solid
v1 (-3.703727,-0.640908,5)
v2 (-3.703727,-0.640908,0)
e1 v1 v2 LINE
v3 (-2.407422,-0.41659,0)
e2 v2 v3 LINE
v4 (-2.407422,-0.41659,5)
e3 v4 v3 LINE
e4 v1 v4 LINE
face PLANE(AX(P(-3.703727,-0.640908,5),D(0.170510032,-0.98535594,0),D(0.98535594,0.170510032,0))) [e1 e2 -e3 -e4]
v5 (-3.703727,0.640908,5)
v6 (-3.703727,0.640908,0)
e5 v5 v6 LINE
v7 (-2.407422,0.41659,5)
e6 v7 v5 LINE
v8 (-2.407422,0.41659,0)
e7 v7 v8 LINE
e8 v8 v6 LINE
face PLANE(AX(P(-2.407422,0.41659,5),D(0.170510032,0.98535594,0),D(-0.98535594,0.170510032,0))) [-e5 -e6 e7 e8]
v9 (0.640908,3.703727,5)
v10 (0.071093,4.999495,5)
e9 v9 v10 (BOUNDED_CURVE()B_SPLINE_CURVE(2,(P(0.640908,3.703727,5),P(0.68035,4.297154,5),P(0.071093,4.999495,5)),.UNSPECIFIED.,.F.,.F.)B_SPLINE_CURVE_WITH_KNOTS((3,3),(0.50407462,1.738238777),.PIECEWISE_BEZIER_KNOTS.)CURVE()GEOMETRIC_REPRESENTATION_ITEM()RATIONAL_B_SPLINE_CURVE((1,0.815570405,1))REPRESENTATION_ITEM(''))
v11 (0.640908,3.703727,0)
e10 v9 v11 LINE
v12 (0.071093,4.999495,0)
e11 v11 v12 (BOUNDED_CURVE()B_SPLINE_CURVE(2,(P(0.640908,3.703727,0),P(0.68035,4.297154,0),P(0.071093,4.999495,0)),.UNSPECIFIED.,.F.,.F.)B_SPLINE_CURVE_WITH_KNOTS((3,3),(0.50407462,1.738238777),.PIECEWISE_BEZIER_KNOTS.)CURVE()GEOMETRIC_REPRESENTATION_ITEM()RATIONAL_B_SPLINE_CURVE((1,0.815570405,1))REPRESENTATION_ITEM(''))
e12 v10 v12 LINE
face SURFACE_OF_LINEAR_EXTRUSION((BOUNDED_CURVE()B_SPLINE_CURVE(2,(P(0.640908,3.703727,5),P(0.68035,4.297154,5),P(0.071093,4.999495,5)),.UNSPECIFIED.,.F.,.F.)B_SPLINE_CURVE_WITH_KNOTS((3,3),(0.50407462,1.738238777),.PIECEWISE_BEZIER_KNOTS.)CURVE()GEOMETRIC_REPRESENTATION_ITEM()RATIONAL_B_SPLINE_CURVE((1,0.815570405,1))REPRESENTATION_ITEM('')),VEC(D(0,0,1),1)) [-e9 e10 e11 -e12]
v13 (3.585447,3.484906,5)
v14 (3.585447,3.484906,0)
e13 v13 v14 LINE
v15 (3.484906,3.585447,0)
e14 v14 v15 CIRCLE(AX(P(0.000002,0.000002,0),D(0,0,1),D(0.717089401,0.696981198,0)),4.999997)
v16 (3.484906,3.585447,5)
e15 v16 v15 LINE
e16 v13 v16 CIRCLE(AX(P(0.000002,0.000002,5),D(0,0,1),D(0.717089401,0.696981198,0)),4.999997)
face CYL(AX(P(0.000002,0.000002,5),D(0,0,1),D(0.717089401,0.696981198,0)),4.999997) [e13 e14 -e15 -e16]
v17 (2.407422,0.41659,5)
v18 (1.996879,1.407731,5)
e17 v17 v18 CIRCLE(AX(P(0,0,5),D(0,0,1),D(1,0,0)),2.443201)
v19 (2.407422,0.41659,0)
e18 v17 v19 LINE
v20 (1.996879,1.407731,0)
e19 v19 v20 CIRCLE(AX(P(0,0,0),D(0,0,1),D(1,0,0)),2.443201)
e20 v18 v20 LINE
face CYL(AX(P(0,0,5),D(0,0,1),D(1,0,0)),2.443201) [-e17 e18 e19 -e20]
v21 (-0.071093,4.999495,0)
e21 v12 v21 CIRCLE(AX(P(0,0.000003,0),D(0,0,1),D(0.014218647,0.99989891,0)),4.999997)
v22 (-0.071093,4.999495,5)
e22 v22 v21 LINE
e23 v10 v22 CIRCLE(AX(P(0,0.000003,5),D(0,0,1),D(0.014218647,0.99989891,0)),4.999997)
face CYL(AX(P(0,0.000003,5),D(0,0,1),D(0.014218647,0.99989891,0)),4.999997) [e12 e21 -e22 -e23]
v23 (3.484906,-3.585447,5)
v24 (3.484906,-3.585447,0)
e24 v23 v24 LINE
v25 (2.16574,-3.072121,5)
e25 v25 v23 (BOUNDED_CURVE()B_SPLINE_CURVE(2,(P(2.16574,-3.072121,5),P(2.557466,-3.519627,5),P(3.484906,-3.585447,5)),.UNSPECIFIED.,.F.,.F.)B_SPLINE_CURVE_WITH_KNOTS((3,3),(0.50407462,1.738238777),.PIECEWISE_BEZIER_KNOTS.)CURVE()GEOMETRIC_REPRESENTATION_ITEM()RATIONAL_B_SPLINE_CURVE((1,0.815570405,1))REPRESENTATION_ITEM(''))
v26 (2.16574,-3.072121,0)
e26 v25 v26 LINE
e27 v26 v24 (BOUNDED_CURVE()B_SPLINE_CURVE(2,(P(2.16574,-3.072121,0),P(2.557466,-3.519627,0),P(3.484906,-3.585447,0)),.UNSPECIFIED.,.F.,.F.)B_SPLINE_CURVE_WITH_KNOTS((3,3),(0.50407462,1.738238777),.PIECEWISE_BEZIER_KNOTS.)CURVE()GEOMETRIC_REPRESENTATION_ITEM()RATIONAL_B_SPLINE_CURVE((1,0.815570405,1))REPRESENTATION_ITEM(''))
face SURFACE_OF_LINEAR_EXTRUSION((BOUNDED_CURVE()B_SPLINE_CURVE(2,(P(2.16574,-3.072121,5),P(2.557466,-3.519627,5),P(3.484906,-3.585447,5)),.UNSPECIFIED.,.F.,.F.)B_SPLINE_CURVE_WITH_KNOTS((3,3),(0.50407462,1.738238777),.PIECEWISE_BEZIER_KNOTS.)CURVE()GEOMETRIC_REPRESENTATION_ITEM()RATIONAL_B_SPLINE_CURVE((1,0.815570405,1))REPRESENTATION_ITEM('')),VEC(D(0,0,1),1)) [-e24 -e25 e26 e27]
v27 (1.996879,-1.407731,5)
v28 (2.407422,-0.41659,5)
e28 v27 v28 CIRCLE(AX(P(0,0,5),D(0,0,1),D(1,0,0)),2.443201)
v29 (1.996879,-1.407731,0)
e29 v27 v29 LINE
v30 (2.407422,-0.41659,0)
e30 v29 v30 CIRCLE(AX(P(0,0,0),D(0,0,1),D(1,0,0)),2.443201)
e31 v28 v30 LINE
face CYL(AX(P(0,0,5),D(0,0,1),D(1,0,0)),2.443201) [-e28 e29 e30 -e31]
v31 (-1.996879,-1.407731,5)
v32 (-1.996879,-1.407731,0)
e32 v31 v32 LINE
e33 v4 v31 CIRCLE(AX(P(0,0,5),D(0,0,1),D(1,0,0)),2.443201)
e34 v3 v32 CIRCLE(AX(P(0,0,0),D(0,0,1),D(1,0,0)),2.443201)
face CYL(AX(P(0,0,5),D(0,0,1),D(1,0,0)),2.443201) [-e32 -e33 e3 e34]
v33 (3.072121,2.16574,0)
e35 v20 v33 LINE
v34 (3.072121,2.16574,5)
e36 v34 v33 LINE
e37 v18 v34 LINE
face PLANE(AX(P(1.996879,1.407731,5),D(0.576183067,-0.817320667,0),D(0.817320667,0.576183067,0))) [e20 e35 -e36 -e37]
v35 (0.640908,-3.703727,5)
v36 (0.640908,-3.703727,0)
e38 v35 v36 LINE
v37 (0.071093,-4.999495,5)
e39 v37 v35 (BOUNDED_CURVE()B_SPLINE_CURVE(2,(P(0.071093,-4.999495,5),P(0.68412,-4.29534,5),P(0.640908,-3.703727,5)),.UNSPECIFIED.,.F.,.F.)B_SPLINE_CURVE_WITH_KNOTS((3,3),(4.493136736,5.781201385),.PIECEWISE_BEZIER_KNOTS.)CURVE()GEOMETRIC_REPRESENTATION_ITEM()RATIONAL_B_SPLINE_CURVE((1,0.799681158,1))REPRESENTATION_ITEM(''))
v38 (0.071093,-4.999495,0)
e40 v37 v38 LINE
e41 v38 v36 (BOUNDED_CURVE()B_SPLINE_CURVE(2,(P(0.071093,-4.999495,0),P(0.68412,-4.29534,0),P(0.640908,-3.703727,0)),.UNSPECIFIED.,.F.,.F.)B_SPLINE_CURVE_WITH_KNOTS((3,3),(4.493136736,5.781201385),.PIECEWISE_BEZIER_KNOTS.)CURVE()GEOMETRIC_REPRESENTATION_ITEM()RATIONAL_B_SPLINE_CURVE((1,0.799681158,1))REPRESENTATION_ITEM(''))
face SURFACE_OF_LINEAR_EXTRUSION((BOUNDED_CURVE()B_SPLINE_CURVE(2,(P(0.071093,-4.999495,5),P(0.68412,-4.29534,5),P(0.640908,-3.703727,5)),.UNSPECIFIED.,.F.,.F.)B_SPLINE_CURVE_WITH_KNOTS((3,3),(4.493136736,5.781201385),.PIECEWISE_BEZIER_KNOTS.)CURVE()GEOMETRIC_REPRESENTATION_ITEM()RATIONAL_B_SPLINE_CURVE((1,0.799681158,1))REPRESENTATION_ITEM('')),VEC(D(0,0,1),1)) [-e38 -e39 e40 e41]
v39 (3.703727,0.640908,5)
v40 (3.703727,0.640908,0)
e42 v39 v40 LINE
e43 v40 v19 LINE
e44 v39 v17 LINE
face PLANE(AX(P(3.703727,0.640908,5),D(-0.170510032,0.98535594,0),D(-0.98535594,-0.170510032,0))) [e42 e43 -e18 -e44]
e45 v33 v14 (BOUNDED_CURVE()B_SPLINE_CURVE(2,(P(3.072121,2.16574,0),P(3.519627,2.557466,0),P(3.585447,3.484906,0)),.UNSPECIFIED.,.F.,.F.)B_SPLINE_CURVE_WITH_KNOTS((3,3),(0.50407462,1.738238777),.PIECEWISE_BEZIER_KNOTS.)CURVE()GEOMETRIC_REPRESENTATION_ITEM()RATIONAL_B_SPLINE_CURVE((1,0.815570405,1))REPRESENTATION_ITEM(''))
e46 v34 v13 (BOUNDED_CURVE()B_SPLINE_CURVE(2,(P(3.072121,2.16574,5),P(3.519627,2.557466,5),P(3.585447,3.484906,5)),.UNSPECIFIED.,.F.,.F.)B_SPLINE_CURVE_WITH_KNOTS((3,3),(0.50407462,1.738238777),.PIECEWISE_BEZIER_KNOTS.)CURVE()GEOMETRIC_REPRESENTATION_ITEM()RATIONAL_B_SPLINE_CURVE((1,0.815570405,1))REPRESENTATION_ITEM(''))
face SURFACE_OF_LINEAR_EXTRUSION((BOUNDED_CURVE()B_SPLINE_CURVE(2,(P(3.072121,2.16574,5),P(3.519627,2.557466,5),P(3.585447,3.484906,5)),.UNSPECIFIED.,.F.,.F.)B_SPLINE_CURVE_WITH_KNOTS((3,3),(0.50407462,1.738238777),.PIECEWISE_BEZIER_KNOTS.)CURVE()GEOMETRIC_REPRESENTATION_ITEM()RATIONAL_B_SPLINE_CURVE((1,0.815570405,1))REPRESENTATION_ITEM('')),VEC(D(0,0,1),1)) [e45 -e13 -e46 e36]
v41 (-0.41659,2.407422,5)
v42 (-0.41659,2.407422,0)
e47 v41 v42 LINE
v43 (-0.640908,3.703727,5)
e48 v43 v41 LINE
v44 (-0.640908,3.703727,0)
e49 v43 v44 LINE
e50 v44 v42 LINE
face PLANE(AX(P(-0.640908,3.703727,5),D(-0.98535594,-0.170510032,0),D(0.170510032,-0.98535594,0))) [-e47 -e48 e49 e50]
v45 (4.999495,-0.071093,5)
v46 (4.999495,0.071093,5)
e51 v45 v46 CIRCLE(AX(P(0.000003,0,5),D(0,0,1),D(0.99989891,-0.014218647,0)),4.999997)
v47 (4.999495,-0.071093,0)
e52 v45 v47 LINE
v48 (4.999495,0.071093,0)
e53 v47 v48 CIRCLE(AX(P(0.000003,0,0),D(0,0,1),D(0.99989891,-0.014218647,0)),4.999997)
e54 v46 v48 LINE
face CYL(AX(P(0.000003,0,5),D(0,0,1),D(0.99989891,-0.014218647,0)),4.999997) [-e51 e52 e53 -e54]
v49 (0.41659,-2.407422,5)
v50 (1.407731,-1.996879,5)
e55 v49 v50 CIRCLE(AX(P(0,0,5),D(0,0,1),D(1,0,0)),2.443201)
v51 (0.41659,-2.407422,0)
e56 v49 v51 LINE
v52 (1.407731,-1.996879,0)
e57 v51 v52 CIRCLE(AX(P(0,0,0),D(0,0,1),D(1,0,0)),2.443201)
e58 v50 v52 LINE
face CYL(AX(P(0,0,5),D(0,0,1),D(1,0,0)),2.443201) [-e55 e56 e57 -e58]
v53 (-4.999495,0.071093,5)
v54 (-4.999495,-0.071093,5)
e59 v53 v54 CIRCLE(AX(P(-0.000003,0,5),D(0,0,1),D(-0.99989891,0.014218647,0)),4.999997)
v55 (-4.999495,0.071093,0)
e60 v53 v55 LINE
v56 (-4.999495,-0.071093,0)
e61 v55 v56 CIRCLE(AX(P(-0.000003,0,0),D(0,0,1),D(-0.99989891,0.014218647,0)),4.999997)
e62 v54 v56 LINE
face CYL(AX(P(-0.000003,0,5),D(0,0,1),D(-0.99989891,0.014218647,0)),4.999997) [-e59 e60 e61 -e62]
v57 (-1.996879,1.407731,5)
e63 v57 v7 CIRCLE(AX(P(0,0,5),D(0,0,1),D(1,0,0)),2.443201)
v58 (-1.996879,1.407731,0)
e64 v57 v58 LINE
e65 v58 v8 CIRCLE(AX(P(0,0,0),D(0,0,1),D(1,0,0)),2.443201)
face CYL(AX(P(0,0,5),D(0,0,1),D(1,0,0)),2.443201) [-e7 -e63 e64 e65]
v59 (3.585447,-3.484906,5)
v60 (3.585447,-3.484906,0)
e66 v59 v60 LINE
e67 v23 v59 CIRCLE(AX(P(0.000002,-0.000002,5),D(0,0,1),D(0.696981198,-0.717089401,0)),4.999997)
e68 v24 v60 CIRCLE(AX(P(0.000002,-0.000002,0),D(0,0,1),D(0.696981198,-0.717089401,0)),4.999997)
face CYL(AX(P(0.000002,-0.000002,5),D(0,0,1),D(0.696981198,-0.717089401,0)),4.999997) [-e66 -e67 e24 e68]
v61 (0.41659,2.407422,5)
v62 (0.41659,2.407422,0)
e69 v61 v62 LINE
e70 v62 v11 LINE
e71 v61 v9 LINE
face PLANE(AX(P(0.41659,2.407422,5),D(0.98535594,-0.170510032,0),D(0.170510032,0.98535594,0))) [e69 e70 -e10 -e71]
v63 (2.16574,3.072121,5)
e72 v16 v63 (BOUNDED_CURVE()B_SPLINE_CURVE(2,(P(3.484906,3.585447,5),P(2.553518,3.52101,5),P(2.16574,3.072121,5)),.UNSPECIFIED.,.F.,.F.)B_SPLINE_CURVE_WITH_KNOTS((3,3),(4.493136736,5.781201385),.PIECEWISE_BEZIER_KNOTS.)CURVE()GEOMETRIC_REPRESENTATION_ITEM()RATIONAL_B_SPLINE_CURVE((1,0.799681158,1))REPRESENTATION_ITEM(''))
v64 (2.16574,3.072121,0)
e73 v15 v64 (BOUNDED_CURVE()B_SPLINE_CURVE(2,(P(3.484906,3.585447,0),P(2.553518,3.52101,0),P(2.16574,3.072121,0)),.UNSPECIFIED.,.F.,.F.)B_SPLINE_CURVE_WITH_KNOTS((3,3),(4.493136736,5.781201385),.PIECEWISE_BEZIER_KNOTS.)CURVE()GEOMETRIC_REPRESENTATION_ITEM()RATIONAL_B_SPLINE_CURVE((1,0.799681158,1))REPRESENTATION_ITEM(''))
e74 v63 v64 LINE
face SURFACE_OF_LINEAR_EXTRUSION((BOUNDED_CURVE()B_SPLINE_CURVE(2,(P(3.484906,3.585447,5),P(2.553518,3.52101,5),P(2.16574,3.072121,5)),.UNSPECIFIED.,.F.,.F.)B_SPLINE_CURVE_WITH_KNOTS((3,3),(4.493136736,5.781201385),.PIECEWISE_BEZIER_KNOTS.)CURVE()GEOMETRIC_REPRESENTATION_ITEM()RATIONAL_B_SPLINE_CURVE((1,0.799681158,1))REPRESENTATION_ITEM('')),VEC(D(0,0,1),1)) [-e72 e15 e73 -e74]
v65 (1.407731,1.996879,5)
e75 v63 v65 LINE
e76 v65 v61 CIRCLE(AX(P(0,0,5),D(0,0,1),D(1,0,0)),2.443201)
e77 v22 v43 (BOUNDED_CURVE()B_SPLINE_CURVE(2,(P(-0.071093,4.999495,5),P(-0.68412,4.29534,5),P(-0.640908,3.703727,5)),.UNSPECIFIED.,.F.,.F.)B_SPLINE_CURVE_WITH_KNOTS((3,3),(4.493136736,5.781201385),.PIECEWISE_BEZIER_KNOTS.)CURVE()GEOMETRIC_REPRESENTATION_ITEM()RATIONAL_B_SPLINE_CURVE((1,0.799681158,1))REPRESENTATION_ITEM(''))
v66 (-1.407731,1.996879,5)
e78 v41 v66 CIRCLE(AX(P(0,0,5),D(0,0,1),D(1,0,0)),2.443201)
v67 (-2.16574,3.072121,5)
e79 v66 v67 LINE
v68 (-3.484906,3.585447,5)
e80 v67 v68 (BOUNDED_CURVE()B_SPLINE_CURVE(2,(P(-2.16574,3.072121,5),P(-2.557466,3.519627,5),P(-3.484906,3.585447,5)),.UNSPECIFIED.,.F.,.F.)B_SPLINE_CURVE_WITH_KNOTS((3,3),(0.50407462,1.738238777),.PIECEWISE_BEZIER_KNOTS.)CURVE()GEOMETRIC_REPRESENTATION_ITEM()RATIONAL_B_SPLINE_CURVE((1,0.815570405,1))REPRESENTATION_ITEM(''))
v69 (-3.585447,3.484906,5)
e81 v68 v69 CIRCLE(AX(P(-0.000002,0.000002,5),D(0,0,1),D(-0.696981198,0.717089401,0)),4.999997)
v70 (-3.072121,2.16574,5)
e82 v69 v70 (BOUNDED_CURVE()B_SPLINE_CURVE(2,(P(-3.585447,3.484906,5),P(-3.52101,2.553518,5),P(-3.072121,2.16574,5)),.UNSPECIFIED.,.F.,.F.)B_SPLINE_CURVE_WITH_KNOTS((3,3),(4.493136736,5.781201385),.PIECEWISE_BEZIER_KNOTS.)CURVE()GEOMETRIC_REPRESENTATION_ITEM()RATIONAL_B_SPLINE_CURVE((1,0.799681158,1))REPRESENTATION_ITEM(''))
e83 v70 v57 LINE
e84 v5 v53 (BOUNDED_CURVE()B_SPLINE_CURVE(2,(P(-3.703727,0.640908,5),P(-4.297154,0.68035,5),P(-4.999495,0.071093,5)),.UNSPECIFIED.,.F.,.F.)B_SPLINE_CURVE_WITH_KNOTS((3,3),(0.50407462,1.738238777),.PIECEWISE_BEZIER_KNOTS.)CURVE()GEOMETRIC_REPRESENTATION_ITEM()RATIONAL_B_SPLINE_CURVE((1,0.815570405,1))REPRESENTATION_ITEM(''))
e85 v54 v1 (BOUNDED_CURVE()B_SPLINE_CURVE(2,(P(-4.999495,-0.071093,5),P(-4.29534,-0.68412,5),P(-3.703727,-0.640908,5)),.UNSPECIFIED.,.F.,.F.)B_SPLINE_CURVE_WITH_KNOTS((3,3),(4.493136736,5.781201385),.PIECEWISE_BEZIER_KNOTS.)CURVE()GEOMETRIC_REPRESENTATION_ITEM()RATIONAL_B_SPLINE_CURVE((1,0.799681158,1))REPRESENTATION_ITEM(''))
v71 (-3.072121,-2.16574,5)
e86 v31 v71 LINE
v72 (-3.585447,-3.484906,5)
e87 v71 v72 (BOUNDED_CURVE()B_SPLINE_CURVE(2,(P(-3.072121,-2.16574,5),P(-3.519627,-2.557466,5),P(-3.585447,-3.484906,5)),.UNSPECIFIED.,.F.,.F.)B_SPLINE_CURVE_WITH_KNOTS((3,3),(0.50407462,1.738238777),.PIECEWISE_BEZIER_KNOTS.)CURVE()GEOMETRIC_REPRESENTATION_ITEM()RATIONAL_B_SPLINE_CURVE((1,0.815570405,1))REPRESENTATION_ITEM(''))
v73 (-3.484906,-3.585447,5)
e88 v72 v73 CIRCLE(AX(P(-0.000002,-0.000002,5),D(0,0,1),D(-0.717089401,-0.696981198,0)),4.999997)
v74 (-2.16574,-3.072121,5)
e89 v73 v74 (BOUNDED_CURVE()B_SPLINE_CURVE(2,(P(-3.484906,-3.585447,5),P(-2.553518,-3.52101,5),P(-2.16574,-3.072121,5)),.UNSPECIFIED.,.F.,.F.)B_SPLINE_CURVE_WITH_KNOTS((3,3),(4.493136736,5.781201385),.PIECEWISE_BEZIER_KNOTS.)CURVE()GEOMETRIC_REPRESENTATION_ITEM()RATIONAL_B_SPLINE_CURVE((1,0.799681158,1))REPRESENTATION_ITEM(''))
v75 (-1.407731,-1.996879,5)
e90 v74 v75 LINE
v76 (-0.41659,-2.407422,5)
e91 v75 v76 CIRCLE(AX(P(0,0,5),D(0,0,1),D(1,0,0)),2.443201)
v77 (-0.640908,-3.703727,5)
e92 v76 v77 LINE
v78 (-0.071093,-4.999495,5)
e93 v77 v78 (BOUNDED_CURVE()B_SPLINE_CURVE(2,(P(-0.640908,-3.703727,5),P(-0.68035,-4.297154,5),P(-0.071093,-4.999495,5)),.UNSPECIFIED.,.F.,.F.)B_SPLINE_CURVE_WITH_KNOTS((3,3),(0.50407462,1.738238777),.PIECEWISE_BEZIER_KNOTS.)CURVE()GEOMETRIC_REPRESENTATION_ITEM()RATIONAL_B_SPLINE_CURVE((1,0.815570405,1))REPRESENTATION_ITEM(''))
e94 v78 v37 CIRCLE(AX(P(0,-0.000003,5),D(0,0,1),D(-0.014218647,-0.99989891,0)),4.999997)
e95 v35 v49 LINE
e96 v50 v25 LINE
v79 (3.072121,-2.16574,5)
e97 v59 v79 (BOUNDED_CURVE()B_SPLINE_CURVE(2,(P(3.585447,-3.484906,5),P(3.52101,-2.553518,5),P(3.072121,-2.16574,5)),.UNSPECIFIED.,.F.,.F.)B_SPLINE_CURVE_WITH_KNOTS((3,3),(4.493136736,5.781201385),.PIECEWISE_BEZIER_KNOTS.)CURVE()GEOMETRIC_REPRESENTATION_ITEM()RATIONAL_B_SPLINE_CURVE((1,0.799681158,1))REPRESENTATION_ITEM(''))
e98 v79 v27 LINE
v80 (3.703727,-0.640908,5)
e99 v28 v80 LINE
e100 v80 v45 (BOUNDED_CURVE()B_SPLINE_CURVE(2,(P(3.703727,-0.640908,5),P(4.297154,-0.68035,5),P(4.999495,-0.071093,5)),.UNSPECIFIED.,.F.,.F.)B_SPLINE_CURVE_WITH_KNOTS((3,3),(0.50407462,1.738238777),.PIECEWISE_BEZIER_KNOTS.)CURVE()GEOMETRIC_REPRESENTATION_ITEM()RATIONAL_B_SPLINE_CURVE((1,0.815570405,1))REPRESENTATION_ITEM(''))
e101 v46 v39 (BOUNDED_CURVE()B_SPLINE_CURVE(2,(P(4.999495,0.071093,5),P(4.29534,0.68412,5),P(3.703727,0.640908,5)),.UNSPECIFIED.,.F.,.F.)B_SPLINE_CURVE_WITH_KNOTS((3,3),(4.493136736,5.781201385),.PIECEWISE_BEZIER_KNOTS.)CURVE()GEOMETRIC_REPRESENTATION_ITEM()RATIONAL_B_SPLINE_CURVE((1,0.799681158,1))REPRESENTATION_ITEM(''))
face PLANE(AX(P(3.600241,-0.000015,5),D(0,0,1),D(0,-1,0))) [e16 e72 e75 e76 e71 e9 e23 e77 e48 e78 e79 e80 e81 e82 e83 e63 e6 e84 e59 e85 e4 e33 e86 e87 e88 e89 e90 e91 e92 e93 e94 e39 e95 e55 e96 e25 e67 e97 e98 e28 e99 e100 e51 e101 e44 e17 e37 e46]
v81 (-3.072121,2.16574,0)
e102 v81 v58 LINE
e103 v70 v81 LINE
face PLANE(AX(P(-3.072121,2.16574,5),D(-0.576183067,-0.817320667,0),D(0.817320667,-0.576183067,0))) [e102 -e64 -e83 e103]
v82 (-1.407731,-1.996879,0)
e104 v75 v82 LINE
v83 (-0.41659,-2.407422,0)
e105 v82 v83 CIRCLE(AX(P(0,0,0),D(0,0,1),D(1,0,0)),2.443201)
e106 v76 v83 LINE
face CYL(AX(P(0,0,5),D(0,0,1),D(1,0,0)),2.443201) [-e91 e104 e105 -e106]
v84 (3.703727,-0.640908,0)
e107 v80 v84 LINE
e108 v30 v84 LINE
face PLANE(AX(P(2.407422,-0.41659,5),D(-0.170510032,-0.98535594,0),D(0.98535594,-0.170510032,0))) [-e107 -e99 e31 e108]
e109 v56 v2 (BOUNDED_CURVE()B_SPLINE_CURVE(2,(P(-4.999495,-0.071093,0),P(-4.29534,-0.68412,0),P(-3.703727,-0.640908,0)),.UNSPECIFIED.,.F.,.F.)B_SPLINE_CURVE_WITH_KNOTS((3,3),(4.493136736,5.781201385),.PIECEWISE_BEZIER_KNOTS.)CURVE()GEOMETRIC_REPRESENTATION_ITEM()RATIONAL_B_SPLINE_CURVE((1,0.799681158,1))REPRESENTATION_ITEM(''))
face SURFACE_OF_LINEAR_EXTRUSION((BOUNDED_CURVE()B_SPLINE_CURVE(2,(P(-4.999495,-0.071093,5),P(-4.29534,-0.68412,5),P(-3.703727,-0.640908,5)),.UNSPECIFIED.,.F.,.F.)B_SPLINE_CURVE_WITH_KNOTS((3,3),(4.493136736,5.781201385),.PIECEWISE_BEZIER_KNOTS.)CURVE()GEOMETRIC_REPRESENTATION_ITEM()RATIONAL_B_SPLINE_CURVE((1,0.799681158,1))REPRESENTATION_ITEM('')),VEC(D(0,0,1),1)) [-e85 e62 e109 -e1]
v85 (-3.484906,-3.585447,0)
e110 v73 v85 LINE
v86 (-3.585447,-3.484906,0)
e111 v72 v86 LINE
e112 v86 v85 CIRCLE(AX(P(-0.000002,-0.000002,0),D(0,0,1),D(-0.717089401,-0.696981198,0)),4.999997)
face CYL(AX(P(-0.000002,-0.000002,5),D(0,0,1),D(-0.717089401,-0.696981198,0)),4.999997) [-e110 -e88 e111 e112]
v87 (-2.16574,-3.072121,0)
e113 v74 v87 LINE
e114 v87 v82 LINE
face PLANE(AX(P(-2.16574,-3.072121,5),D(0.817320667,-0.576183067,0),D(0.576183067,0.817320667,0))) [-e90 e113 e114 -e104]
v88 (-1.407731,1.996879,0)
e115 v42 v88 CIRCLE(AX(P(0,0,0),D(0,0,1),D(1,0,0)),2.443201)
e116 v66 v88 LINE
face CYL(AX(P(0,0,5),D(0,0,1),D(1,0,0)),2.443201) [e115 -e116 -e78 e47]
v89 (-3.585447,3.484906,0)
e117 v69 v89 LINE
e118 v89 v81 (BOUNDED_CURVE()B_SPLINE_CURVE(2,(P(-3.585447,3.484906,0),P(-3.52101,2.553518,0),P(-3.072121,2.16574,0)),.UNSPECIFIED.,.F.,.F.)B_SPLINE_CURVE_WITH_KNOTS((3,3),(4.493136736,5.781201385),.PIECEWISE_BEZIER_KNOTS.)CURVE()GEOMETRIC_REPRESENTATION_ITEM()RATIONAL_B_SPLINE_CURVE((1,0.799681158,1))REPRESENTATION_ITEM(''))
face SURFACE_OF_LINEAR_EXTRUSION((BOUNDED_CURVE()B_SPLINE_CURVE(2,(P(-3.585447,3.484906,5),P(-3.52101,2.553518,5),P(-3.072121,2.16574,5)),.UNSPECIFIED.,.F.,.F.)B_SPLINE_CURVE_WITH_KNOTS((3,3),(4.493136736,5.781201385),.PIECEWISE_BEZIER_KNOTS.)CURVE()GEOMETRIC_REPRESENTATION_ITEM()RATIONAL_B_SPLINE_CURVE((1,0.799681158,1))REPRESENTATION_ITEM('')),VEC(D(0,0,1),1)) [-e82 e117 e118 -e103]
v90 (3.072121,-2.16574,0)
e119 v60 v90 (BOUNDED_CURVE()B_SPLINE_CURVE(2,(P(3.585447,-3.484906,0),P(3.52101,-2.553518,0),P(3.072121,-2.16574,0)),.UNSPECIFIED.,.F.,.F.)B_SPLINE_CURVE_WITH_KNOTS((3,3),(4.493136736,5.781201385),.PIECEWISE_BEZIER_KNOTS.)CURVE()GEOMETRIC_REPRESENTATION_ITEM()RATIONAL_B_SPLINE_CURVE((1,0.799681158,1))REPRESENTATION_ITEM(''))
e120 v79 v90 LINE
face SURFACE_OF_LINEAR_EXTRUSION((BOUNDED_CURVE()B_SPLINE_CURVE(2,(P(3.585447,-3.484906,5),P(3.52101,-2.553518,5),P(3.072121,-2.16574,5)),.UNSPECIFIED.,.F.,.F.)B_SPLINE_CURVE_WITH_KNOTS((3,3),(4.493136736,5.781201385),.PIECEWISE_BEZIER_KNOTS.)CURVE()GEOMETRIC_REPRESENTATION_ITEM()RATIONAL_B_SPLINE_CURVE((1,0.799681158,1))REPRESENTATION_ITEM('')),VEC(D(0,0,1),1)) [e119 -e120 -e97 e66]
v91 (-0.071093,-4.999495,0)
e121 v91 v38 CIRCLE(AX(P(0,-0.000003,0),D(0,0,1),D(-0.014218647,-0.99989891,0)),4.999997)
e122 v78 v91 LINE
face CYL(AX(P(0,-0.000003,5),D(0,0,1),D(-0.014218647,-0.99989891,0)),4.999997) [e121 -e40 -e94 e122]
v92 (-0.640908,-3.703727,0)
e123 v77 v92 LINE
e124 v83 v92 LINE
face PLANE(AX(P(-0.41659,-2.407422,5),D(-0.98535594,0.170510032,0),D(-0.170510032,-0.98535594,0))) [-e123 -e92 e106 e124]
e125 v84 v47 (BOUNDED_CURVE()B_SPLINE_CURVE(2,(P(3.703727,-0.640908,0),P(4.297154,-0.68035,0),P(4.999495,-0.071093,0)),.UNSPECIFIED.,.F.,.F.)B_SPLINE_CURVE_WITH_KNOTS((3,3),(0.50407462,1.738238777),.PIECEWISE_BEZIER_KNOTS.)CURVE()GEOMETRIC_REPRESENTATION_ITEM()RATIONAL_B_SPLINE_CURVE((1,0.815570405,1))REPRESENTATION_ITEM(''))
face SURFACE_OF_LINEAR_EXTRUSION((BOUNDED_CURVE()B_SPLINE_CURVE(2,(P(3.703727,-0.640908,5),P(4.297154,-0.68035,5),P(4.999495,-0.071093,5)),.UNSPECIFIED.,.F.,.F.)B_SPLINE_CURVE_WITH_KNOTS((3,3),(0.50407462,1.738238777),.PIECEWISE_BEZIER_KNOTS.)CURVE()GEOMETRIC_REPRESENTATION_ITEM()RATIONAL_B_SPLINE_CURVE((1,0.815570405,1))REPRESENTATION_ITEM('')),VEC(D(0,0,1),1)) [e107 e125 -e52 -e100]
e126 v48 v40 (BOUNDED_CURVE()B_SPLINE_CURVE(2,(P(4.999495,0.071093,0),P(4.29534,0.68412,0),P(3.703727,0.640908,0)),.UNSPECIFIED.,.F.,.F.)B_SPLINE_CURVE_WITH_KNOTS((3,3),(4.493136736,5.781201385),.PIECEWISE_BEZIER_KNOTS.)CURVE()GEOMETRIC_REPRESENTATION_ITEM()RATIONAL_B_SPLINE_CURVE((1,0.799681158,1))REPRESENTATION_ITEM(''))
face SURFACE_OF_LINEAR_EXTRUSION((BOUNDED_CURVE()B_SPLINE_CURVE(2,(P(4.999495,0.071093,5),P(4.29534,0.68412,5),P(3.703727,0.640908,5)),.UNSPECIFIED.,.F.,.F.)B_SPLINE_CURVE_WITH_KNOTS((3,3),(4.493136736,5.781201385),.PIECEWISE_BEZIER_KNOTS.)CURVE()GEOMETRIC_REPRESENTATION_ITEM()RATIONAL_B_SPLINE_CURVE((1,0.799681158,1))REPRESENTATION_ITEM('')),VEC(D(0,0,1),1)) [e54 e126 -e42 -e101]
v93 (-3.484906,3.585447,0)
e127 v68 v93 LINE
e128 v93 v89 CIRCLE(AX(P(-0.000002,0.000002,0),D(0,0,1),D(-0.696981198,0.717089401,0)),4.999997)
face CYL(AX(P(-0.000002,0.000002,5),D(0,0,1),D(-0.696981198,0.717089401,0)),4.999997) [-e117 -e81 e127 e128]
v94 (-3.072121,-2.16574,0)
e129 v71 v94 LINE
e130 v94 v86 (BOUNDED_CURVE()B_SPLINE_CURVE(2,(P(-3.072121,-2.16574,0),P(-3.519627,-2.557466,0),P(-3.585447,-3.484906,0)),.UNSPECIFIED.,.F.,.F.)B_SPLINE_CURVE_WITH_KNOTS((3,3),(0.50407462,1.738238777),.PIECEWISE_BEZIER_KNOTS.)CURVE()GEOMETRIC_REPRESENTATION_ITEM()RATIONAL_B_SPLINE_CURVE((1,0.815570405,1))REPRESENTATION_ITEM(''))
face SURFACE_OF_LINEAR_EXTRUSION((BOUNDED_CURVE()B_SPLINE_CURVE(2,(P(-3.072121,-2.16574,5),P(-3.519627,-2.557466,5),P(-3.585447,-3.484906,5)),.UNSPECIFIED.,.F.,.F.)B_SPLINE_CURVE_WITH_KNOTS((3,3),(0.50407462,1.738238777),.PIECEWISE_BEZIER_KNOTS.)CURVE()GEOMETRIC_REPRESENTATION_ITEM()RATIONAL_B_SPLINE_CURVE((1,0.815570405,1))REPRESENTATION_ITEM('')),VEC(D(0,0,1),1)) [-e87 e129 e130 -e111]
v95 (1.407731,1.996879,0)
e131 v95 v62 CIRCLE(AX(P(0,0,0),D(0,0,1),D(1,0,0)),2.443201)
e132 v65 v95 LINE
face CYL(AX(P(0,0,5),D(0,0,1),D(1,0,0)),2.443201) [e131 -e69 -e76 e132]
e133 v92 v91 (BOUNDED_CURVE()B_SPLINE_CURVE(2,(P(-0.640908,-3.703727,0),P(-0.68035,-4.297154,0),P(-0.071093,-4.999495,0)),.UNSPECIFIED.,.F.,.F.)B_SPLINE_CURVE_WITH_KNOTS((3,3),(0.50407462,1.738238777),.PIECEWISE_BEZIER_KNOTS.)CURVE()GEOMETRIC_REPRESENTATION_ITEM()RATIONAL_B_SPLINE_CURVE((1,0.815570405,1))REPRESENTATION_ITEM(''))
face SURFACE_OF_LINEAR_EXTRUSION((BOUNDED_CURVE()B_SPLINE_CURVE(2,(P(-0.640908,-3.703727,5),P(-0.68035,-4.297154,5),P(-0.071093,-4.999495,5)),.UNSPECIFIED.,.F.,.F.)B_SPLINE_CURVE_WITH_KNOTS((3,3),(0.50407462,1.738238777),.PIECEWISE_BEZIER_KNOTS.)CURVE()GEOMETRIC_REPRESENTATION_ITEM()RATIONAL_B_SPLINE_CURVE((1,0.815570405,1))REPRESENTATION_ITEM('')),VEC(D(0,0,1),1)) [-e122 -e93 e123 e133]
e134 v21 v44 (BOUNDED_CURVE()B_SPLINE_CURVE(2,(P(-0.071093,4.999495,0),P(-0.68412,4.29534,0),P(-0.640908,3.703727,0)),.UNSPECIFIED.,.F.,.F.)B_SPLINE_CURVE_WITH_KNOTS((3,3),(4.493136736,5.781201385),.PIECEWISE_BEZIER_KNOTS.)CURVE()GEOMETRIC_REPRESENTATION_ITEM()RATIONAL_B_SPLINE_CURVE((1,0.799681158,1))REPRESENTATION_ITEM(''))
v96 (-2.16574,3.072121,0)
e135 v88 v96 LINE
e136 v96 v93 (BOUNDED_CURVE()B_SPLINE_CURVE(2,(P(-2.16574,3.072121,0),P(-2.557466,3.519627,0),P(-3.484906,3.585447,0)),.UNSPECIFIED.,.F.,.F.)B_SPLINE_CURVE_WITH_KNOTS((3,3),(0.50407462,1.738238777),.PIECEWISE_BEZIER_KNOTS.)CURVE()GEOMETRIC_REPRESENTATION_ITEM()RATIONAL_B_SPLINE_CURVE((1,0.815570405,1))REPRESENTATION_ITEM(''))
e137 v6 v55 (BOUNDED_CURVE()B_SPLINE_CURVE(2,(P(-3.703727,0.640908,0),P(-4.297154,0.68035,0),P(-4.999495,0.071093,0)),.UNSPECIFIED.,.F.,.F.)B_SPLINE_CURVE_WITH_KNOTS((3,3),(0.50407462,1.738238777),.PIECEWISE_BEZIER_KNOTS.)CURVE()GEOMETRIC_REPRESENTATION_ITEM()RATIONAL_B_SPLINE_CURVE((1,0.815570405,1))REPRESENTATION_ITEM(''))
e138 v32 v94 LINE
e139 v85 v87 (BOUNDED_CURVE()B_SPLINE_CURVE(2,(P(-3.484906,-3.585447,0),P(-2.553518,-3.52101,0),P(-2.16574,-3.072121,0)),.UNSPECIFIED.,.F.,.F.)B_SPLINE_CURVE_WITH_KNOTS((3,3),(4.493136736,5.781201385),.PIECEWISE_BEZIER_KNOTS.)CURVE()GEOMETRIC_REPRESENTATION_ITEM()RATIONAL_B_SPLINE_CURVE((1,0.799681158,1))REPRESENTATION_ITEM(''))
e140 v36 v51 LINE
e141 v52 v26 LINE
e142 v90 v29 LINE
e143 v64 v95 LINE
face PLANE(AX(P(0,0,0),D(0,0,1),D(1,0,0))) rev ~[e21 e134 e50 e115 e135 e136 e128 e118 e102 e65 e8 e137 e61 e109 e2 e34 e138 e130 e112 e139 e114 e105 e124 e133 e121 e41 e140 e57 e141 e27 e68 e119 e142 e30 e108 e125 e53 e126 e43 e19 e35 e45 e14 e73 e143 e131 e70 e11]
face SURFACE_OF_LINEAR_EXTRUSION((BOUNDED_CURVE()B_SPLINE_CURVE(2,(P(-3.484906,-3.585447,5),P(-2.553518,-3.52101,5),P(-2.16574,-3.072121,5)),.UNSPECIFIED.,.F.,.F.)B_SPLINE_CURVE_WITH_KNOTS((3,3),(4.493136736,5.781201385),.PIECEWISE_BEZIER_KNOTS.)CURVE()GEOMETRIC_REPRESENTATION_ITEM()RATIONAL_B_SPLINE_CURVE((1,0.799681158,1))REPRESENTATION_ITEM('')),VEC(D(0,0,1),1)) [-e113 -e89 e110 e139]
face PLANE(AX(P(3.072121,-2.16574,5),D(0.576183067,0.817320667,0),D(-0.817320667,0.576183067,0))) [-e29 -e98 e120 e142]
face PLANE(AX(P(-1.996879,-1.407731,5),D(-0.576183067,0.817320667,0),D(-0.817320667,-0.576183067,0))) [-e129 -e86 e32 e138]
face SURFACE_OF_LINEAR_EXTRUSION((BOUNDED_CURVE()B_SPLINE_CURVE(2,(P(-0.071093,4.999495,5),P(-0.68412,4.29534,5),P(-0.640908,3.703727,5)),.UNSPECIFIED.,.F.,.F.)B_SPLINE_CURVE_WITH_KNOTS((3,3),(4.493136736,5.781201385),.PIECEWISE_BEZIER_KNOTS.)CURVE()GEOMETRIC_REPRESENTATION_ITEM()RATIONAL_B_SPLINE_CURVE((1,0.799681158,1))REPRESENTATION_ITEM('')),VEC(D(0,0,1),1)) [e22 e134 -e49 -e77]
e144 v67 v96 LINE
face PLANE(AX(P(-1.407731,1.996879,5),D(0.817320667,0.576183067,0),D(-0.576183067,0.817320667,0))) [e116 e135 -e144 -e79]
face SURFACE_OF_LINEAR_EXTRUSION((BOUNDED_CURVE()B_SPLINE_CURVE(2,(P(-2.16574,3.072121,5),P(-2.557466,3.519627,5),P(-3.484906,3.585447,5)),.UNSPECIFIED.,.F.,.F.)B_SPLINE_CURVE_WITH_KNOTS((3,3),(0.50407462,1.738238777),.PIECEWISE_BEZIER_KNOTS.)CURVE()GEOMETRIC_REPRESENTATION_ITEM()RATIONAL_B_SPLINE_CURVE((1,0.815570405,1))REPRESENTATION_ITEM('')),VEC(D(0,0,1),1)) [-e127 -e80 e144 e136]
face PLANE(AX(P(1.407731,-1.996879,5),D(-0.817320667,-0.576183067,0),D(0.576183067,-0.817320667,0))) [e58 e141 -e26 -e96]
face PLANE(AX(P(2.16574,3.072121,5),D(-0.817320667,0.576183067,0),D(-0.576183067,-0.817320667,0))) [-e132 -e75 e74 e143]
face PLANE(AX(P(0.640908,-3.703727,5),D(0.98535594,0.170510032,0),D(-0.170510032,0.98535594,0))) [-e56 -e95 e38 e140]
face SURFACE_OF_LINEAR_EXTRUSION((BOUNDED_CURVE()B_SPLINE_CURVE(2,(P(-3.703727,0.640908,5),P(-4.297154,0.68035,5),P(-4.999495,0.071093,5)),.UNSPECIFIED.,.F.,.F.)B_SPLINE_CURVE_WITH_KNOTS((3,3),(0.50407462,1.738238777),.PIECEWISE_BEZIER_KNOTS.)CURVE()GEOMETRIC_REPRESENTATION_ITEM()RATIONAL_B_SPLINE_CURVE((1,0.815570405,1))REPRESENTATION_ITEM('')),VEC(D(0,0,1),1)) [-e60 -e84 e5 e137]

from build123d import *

# Parameters (mm, degrees)
BOSS_EXTRUDE1_DEPTH = 5
CIRPATTERN1_COUNT   = 8
SKETCH2_R           = 2.443200814
BOSS_EXTRUDE2_DEPTH = 5


with BuildPart() as part:
    # Sketch1 → Boss-Extrude1 (new body)
    with BuildSketch(Plane.XY.offset(5)):
        with BuildLine():
            Line((0.41659025, 2.407422435), (0.640908077, 3.703726823))
            add(Edge.make_bspline(
                [(0.640908077, 3.703726823), (0.680350197, 4.297153912), (0.071093186, 4.99949455)],
                knots=[0.50407462, 0.50407462, 0.50407462, 1.738238777, 1.738238777, 1.738238777], degree=2, weights=[1, 0.815570405, 1]))
            ThreePointArc((0.071093186, 4.99949455), (0, 5), (-0.071093186, 4.99949455))
            add(Edge.make_bspline(
                [(-0.071093186, 4.99949455), (-0.684119659, 4.29533983), (-0.640908077, 3.703726823)],
                knots=[4.493136736, 4.493136736, 4.493136736, 5.781201385, 5.781201385, 5.781201385], degree=2, weights=[1, 0.799681158, 1]))
            Line((-0.640908077, 3.703726823), (-0.41659025, 2.407422435))
            Line((-0.41659025, 2.407422435), (0.41659025, 2.407422435))
        make_face()
    extrude(amount=-BOSS_EXTRUDE1_DEPTH)


with BuildPart() as cirpattern1_1:
    # CirPattern1: pattern copy
    add(part.part.rotate(Axis((0, 0, 0), (0, 0, 1)), 1 * 360 / CIRPATTERN1_COUNT))


with BuildPart() as cirpattern1_2:
    # CirPattern1: pattern copy
    add(part.part.rotate(Axis((0, 0, 0), (0, 0, 1)), 2 * 360 / CIRPATTERN1_COUNT))


with BuildPart() as cirpattern1_3:
    # CirPattern1: pattern copy
    add(part.part.rotate(Axis((0, 0, 0), (0, 0, 1)), 3 * 360 / CIRPATTERN1_COUNT))


with BuildPart() as cirpattern1_4:
    # CirPattern1: pattern copy
    add(part.part.rotate(Axis((0, 0, 0), (0, 0, 1)), 4 * 360 / CIRPATTERN1_COUNT))


with BuildPart() as cirpattern1_5:
    # CirPattern1: pattern copy
    add(part.part.rotate(Axis((0, 0, 0), (0, 0, 1)), 5 * 360 / CIRPATTERN1_COUNT))


with BuildPart() as cirpattern1_6:
    # CirPattern1: pattern copy
    add(part.part.rotate(Axis((0, 0, 0), (0, 0, 1)), 6 * 360 / CIRPATTERN1_COUNT))


with BuildPart() as cirpattern1_7:
    # CirPattern1: pattern copy
    add(part.part.rotate(Axis((0, 0, 0), (0, 0, 1)), 7 * 360 / CIRPATTERN1_COUNT))


with BuildPart() as part_1:
    add(part.part)

    add(cirpattern1_1.part)  # Boss-Extrude2 merges CirPattern1_1

    add(cirpattern1_2.part)  # Boss-Extrude2 merges CirPattern1_2

    add(cirpattern1_3.part)  # Boss-Extrude2 merges CirPattern1_3

    add(cirpattern1_4.part)  # Boss-Extrude2 merges CirPattern1_4

    add(cirpattern1_5.part)  # Boss-Extrude2 merges CirPattern1_5

    add(cirpattern1_6.part)  # Boss-Extrude2 merges CirPattern1_6

    add(cirpattern1_7.part)  # Boss-Extrude2 merges CirPattern1_7
    # Sketch2 → Boss-Extrude2 (add)
    with BuildSketch(Plane.XY.offset(5)):
        Circle(SKETCH2_R)
    extrude(amount=-BOSS_EXTRUDE2_DEPTH)


solid = part_1.part
